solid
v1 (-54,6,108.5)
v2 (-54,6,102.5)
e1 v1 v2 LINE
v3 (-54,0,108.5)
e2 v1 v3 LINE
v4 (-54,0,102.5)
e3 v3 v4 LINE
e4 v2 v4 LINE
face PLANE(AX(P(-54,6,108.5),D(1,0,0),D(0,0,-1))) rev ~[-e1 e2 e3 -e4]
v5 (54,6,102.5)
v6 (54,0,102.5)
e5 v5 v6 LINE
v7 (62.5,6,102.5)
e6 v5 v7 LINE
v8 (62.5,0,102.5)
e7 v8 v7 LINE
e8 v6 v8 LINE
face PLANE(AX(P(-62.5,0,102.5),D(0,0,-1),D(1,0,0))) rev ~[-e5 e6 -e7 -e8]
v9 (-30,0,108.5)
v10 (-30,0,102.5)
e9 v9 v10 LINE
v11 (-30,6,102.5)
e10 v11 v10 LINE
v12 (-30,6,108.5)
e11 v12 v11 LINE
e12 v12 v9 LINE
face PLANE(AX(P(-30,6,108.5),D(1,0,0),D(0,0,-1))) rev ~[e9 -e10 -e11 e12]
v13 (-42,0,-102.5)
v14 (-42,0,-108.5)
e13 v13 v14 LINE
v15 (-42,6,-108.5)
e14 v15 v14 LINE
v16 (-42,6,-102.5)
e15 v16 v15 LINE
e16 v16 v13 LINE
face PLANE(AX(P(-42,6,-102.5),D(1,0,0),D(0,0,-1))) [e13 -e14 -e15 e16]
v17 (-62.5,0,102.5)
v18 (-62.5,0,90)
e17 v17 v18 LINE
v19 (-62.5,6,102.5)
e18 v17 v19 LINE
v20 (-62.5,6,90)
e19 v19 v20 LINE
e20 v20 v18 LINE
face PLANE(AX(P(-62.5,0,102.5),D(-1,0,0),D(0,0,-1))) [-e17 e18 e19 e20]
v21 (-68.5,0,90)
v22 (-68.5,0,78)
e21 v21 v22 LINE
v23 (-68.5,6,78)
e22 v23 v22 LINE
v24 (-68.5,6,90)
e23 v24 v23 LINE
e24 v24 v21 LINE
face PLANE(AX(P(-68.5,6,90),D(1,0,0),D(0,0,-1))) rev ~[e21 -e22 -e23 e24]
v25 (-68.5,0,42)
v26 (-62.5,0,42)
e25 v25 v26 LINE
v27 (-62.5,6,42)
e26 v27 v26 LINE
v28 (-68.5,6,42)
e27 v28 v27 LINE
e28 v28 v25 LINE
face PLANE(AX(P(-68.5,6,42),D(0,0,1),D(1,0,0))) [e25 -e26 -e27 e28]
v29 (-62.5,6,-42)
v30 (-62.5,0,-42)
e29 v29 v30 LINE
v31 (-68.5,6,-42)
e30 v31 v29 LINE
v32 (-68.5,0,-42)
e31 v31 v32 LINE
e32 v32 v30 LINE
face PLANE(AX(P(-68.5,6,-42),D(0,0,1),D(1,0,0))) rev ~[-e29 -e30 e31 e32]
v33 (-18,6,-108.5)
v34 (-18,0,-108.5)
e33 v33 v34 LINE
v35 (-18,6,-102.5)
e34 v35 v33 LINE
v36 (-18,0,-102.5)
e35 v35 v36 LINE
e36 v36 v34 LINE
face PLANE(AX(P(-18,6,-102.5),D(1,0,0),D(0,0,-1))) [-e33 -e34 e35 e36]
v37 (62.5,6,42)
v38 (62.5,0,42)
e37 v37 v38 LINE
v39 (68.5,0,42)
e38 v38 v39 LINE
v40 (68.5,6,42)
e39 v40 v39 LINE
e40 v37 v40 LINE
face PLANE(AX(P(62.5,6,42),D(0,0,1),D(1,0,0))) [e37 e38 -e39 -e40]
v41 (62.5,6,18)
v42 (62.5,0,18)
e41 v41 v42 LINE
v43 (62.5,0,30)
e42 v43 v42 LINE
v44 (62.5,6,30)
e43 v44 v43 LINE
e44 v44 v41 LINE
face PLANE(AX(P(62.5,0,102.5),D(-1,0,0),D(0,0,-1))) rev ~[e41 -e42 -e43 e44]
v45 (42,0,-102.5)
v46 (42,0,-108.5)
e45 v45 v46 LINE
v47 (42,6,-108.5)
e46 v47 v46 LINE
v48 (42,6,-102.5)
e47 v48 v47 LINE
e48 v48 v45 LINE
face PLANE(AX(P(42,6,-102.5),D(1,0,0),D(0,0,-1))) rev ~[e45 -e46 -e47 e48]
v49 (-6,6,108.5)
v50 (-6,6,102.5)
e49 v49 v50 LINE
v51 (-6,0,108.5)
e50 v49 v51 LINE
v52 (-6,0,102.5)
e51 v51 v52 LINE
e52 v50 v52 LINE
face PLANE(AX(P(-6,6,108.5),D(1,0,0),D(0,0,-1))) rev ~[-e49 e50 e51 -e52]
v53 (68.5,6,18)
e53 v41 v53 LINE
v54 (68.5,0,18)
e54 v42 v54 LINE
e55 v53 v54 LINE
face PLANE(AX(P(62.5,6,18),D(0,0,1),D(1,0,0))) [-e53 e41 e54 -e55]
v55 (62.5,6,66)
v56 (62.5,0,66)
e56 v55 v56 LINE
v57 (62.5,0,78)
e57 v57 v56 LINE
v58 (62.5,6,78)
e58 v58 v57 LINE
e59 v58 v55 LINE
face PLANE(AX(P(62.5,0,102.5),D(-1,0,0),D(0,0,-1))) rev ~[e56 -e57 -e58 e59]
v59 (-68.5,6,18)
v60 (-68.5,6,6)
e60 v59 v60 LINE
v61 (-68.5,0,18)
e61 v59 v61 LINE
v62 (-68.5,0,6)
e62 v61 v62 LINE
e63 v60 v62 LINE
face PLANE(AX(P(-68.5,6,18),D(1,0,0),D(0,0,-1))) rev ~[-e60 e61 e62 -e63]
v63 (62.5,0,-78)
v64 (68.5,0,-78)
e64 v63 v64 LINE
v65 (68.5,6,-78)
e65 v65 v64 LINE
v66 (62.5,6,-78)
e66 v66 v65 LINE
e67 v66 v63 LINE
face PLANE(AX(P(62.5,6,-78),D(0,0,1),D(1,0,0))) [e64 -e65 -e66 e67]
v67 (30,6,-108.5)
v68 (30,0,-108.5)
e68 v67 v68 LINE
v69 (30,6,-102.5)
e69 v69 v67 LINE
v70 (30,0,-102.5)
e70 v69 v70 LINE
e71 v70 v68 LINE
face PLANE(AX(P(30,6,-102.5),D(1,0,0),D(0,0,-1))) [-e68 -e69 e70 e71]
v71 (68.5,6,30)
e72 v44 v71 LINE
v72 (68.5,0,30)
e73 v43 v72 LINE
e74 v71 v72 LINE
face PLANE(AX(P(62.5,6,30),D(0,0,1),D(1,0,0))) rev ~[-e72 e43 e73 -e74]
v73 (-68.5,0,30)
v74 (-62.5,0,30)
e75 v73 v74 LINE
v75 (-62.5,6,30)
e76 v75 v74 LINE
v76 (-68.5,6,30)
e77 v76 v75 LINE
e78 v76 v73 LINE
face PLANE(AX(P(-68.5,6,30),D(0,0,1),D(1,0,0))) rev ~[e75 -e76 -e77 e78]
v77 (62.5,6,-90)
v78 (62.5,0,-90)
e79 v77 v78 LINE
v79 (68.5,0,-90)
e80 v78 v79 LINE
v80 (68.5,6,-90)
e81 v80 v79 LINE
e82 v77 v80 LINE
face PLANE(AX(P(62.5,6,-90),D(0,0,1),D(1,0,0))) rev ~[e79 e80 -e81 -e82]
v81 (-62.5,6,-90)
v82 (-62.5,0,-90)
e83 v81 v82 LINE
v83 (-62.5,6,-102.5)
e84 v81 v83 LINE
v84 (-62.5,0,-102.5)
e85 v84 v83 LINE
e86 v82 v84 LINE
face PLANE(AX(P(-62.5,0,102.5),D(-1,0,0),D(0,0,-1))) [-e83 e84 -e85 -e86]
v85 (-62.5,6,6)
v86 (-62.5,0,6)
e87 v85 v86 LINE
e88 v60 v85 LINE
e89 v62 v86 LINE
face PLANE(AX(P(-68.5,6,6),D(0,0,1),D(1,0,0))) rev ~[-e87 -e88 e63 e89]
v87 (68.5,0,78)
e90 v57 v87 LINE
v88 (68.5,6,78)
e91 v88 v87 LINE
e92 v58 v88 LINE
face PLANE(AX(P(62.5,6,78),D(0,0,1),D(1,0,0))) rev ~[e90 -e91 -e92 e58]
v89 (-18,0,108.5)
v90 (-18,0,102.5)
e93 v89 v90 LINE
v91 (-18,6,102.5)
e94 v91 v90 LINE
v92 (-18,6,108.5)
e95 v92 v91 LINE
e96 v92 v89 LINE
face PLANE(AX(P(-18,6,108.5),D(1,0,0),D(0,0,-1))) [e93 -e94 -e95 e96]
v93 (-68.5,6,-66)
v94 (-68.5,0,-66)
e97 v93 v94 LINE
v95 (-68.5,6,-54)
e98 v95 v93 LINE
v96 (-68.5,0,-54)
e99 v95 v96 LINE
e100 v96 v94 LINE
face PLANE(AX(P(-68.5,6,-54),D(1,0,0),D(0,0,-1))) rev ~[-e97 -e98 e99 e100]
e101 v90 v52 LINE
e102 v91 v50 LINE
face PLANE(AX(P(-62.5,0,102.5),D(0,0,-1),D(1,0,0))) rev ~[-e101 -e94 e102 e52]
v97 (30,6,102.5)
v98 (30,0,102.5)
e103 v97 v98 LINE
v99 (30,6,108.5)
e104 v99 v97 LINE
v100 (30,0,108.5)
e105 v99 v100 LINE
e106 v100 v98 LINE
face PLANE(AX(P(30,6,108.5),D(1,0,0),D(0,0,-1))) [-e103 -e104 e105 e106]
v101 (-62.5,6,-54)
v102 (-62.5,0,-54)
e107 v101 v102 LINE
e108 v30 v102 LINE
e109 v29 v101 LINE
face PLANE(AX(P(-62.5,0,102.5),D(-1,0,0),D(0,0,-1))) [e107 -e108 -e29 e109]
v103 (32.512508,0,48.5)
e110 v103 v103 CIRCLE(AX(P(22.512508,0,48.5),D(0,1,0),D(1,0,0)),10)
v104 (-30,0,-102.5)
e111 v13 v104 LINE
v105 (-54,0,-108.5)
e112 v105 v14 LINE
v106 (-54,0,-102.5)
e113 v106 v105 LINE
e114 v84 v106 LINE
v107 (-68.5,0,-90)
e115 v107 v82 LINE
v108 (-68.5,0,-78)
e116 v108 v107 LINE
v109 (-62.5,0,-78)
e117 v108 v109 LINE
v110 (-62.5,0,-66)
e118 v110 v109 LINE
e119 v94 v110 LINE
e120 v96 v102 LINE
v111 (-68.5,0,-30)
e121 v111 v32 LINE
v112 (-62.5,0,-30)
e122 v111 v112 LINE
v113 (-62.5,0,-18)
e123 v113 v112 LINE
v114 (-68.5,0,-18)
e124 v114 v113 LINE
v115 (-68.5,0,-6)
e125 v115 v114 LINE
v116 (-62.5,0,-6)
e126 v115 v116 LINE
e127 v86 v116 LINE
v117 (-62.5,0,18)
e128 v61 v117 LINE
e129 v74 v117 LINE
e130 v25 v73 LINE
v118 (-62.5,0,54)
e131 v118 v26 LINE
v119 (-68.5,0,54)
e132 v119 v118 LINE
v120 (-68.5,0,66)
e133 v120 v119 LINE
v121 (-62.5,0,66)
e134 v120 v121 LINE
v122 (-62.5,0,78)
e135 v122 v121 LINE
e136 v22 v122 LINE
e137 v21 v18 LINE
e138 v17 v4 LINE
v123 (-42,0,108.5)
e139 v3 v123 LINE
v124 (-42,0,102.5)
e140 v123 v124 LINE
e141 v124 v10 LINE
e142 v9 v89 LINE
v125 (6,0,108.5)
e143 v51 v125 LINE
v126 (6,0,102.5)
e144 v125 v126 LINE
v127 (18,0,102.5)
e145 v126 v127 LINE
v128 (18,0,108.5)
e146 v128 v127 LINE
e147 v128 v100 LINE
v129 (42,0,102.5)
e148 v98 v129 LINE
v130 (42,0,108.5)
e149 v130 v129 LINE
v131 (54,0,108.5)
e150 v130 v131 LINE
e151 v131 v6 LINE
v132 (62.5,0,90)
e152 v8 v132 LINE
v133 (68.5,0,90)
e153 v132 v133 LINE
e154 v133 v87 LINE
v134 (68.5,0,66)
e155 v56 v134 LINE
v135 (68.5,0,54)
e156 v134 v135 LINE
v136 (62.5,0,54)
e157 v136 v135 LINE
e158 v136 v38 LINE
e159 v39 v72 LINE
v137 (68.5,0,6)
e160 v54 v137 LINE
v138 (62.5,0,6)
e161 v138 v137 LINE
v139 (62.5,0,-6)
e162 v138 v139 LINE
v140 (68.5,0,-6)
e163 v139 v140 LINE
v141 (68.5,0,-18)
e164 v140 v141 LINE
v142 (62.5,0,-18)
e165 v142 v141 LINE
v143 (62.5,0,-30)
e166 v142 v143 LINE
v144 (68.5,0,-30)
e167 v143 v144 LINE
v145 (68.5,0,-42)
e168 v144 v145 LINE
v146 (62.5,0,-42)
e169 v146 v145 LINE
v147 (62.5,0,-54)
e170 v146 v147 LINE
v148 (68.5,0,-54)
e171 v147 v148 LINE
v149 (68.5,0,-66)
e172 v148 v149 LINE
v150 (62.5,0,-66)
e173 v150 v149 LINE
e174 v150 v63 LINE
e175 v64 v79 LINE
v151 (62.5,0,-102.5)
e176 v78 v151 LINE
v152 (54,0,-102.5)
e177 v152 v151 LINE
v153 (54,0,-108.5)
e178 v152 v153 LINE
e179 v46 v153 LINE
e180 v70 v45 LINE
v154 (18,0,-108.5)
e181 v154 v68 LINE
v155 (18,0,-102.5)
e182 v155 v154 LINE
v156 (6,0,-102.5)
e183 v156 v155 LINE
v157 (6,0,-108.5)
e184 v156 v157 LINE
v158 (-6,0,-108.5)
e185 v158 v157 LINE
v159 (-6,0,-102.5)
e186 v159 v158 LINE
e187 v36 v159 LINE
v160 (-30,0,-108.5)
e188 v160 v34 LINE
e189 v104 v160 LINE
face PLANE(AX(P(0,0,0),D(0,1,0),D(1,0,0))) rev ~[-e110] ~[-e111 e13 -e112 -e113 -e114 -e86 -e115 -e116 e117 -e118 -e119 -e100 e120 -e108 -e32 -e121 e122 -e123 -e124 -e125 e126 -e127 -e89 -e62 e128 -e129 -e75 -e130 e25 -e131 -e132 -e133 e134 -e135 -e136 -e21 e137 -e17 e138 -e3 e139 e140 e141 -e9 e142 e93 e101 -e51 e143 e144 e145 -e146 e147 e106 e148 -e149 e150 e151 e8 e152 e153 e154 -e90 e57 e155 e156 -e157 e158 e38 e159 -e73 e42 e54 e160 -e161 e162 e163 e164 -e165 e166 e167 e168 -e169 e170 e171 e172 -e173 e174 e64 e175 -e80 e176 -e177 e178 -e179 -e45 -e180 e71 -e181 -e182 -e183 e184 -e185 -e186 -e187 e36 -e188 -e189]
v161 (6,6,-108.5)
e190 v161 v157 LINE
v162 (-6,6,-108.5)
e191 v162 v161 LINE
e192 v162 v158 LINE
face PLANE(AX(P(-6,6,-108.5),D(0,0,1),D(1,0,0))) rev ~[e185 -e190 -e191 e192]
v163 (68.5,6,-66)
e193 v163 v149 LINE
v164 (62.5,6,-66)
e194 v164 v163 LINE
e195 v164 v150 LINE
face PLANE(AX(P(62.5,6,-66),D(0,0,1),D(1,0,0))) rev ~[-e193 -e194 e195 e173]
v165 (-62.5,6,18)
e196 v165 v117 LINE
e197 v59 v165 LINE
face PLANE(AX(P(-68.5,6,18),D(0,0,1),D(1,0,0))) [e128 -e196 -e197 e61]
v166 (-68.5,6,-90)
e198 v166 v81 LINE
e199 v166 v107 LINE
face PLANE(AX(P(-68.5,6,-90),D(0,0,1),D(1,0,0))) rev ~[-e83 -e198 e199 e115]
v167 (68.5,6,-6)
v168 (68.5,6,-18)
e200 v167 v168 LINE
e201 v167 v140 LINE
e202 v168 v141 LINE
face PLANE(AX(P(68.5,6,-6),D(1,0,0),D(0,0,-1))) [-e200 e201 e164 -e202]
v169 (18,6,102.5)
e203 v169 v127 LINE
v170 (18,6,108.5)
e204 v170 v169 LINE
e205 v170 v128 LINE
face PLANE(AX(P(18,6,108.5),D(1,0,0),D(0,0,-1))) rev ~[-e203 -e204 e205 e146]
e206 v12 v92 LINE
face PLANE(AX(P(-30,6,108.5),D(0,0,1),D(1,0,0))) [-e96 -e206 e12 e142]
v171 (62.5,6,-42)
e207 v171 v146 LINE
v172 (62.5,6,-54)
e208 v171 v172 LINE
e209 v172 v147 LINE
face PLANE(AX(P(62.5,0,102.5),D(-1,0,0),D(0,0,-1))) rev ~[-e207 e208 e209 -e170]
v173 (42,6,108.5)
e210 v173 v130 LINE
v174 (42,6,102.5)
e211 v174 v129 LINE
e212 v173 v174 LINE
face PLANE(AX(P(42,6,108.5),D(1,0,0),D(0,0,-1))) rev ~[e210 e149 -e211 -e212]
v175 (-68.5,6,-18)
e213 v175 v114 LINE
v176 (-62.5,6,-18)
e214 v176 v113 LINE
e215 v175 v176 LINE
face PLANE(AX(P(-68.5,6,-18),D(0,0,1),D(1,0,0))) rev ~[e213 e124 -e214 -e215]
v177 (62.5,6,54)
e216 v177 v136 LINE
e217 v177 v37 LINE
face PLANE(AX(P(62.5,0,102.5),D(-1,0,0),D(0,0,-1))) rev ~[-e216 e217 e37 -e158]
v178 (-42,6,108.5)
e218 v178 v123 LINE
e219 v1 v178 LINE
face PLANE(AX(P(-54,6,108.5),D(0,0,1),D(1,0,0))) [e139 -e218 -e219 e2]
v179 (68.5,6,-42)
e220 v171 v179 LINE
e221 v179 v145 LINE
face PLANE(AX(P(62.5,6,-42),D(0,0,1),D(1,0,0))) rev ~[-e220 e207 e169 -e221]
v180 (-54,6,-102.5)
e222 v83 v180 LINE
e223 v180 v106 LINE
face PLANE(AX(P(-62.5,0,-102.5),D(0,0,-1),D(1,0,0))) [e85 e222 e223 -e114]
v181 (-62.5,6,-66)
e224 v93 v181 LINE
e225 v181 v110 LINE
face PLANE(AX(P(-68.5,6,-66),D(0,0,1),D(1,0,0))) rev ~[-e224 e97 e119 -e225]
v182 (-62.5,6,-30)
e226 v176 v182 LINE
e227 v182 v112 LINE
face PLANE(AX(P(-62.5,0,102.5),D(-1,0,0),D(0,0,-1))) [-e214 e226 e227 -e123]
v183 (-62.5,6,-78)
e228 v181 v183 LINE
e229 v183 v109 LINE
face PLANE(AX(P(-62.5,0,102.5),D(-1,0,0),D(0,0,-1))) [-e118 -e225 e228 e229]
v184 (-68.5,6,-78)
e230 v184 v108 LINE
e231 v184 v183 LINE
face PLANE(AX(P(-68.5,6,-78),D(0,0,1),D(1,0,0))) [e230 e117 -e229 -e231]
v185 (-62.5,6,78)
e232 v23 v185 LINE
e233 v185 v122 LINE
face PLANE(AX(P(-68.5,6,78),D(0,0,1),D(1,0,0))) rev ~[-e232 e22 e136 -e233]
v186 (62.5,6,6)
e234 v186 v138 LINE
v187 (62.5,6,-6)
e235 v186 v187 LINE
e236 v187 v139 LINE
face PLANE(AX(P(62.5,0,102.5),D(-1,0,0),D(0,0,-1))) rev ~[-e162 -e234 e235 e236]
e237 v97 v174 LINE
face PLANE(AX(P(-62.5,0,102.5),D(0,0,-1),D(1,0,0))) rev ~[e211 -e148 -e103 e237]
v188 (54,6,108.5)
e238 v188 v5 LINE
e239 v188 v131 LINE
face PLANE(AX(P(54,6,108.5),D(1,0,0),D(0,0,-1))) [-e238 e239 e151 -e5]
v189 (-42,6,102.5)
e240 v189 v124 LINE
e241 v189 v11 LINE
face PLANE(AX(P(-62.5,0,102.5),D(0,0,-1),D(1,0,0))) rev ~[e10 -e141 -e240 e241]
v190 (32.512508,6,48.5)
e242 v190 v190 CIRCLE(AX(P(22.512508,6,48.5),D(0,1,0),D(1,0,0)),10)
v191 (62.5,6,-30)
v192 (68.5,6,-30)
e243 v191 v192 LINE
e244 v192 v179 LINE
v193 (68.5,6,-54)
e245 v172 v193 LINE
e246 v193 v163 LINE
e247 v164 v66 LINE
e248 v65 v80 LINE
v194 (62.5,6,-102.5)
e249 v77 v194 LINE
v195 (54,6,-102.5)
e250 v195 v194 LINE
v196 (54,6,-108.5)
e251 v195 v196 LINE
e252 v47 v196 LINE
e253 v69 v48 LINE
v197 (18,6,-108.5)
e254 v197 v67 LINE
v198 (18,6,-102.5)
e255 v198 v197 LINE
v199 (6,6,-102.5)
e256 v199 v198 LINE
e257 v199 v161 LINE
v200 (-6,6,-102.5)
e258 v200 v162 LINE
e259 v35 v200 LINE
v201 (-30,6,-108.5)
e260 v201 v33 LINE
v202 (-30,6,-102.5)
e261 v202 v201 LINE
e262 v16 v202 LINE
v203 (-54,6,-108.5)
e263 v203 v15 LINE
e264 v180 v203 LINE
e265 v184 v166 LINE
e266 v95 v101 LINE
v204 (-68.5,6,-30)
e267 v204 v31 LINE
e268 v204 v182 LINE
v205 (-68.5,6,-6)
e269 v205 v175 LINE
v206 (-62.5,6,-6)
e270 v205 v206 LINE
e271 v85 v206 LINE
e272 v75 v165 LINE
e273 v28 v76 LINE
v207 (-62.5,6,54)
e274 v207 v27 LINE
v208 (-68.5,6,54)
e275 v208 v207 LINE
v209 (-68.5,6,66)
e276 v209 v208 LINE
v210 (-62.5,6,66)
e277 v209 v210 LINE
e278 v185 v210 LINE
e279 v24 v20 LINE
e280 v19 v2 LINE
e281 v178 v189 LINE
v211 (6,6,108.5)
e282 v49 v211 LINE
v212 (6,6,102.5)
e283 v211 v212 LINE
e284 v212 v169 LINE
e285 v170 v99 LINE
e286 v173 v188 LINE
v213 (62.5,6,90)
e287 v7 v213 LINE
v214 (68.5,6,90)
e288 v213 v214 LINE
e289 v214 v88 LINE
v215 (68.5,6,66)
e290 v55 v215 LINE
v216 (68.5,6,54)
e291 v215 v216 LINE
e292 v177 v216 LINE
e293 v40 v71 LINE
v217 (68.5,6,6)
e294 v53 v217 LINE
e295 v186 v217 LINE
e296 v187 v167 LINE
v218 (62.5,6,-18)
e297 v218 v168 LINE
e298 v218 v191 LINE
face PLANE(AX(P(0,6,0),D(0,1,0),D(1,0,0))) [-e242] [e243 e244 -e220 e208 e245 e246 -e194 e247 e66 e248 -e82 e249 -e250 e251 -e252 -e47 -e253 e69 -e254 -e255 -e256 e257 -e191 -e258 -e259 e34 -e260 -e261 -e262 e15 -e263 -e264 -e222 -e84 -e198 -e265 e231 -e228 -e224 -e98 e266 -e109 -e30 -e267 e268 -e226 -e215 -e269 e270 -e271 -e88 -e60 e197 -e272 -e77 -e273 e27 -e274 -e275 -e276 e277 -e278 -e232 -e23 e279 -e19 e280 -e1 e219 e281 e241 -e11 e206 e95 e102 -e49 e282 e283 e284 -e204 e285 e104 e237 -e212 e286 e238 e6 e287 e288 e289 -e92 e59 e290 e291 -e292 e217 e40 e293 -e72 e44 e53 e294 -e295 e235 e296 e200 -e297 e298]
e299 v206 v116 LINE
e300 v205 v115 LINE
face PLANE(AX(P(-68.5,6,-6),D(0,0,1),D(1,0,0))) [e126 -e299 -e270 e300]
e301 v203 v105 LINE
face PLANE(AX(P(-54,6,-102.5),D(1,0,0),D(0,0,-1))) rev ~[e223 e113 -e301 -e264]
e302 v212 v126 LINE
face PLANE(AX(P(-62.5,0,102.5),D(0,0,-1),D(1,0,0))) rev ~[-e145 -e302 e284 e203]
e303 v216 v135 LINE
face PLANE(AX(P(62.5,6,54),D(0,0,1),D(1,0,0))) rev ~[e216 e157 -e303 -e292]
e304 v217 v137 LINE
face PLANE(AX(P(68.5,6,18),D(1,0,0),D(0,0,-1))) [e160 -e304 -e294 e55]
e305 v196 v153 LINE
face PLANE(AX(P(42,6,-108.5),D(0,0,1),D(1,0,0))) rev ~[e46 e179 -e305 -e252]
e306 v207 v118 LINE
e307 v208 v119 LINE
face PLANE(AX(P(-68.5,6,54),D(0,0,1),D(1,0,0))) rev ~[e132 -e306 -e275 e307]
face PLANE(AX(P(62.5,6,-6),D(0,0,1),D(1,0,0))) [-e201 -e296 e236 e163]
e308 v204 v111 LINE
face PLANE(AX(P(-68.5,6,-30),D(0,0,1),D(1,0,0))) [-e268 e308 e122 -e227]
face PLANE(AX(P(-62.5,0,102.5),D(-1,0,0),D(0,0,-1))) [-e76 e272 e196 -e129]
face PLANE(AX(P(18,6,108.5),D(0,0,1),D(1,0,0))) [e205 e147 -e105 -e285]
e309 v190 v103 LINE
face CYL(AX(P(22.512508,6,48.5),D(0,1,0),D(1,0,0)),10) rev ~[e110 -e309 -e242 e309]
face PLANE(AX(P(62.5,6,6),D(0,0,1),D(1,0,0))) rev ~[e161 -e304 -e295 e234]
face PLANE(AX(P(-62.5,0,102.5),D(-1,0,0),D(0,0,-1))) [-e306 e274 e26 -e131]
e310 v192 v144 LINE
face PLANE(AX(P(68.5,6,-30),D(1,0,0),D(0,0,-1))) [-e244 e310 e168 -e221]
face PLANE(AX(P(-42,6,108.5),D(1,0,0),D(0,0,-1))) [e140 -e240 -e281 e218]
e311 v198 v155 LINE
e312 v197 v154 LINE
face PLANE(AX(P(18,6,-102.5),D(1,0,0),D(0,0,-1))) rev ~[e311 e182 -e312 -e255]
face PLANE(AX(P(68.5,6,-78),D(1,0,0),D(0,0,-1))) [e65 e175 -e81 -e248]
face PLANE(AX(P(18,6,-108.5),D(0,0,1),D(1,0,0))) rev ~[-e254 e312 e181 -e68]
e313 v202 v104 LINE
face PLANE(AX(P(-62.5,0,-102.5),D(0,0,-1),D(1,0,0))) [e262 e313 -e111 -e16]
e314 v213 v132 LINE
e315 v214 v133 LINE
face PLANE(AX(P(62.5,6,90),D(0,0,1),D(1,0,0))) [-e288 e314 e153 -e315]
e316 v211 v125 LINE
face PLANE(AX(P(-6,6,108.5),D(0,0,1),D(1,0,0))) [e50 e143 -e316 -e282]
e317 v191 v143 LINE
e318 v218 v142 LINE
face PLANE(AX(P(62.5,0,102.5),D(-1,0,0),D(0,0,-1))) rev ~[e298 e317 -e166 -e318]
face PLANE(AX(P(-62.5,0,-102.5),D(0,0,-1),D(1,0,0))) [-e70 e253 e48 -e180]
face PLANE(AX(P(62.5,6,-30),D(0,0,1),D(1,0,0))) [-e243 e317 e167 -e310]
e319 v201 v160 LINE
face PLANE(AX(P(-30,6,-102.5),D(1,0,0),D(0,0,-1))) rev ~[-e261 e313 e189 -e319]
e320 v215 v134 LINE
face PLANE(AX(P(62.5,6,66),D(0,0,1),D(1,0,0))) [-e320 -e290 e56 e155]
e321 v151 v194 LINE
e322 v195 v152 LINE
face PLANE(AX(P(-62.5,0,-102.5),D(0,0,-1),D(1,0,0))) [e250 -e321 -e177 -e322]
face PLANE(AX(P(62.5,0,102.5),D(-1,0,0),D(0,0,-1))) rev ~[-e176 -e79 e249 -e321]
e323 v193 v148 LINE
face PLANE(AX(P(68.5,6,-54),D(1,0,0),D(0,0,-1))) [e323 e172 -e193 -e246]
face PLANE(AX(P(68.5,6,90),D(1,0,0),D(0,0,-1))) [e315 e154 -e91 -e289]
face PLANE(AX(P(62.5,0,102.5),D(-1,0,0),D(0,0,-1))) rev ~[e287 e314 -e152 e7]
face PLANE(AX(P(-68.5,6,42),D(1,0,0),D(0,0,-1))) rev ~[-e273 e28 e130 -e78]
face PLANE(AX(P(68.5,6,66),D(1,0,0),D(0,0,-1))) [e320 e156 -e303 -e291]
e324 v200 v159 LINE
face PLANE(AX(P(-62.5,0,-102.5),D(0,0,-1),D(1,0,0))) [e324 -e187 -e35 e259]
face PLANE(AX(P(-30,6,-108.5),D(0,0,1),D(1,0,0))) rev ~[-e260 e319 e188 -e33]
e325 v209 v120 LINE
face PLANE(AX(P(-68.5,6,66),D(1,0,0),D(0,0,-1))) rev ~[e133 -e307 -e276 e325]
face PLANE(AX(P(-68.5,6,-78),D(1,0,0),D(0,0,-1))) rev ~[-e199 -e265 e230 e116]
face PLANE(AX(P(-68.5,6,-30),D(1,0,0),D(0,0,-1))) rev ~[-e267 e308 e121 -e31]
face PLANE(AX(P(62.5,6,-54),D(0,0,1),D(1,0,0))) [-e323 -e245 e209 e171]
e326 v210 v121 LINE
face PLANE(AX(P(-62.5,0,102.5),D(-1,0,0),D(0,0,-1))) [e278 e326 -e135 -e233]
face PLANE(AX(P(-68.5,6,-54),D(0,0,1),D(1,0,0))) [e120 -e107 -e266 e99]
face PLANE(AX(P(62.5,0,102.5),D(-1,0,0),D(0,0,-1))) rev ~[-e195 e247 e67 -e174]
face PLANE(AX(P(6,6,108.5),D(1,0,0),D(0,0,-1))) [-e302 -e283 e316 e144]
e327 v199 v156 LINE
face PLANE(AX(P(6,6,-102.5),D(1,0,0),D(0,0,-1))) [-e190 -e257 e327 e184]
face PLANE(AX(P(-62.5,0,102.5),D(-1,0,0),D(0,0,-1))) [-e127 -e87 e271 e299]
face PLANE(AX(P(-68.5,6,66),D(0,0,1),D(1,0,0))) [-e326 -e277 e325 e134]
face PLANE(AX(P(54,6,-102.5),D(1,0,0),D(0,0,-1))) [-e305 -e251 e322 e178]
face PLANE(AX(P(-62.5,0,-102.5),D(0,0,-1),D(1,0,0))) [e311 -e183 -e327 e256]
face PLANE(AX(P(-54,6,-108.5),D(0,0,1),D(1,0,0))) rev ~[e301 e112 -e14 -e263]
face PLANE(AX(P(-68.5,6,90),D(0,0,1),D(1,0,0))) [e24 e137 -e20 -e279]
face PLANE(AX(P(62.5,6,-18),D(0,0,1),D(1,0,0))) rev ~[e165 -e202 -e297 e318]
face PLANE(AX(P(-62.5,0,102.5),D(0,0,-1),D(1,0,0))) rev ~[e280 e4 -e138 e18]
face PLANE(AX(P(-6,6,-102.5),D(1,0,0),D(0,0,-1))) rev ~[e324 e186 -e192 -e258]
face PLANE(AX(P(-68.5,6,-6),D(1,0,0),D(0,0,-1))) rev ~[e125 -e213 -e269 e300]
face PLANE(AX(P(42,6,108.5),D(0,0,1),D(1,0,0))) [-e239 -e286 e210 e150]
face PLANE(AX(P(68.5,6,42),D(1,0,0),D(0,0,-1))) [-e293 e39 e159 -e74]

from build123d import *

# Parameters (mm, degrees)
SKETCH3_W           = 125
SKETCH3_H           = 205
BOSS_EXTRUDE1_DEPTH = 6
SKETCH5_W           = 12
SKETCH5_H           = 6
SKETCH5_W_2         = 6
SKETCH5_H_2         = 12
BOSS_EXTRUDE2_DEPTH = 6
SKETCH6_R           = 10
CUT_EXTRUDE1_DEPTH  = 6


with BuildPart() as part:
    # Sketch3 → Boss-Extrude1 (new body)
    with BuildSketch(Plane(origin=(0, 0, 0), x_dir=(1, 0, 0), z_dir=(0, 1, 0))):
        Rectangle(SKETCH3_W, SKETCH3_H)
    extrude(amount=BOSS_EXTRUDE1_DEPTH)

    # Sketch5 → Boss-Extrude2 (add)
    with BuildSketch(Plane(origin=(0, 6, 0), x_dir=(1, 0, 0), z_dir=(0, 1, 0))):
        with Locations((24, -105.5)):
            Rectangle(SKETCH5_W, SKETCH5_H)
        with Locations((0, -105.5)):
            Rectangle(SKETCH5_W, SKETCH5_H)
        with Locations((-65.5, -84)):
            Rectangle(SKETCH5_W_2, SKETCH5_H_2)
        with Locations((-65.5, -60)):
            Rectangle(SKETCH5_W_2, SKETCH5_H_2)
        with Locations((-65.5, -12)):
            Rectangle(SKETCH5_W_2, SKETCH5_H_2)
        with Locations((65.5, -84)):
            Rectangle(SKETCH5_W_2, SKETCH5_H_2)
        with Locations((65.5, -36)):
            Rectangle(SKETCH5_W_2, SKETCH5_H_2)
        with Locations((65.5, -12)):
            Rectangle(SKETCH5_W_2, SKETCH5_H_2)
        with Locations((65.5, 12)):
            Rectangle(SKETCH5_W_2, SKETCH5_H_2)
        with Locations((65.5, 36)):
            Rectangle(SKETCH5_W_2, SKETCH5_H_2)
        with Locations((65.5, 84)):
            Rectangle(SKETCH5_W_2, SKETCH5_H_2)
        with Locations((24, 105.5)):
            Rectangle(SKETCH5_W, SKETCH5_H)
        with Locations((0, 105.5)):
            Rectangle(SKETCH5_W, SKETCH5_H)
        with Locations((-24, 105.5)):
            Rectangle(SKETCH5_W, SKETCH5_H)
        with Locations((-48, 105.5)):
            Rectangle(SKETCH5_W, SKETCH5_H)
        with Locations((-65.5, 36)):
            Rectangle(SKETCH5_W_2, SKETCH5_H_2)
        with Locations((-65.5, 12)):
            Rectangle(SKETCH5_W_2, SKETCH5_H_2)
        with Locations((48, -105.5)):
            Rectangle(SKETCH5_W, SKETCH5_H)
        with Locations((-24, -105.5)):
            Rectangle(SKETCH5_W, SKETCH5_H)
        with Locations((-48, -105.5)):
            Rectangle(SKETCH5_W, SKETCH5_H)
        with Locations((-65.5, -36)):
            Rectangle(SKETCH5_W_2, SKETCH5_H_2)
        with Locations((65.5, -60)):
            Rectangle(SKETCH5_W_2, SKETCH5_H_2)
        with Locations((65.5, 60)):
            Rectangle(SKETCH5_W_2, SKETCH5_H_2)
        with Locations((48, 105.5)):
            Rectangle(SKETCH5_W, SKETCH5_H)
        with Locations((-65.5, 84)):
            Rectangle(SKETCH5_W_2, SKETCH5_H_2)
        with Locations((-65.5, 60)):
            Rectangle(SKETCH5_W_2, SKETCH5_H_2)
    extrude(amount=-BOSS_EXTRUDE2_DEPTH)

    # Sketch6 → Cut-Extrude1 (cut)
    with BuildSketch(Plane(origin=(0, 6, 0), x_dir=(1, 0, 0), z_dir=(0, 1, 0))):
        with Locations((22.512507822, -48.5)):
            Circle(SKETCH6_R)
    extrude(amount=-CUT_EXTRUDE1_DEPTH, mode=Mode.SUBTRACT)


solid = part.part
